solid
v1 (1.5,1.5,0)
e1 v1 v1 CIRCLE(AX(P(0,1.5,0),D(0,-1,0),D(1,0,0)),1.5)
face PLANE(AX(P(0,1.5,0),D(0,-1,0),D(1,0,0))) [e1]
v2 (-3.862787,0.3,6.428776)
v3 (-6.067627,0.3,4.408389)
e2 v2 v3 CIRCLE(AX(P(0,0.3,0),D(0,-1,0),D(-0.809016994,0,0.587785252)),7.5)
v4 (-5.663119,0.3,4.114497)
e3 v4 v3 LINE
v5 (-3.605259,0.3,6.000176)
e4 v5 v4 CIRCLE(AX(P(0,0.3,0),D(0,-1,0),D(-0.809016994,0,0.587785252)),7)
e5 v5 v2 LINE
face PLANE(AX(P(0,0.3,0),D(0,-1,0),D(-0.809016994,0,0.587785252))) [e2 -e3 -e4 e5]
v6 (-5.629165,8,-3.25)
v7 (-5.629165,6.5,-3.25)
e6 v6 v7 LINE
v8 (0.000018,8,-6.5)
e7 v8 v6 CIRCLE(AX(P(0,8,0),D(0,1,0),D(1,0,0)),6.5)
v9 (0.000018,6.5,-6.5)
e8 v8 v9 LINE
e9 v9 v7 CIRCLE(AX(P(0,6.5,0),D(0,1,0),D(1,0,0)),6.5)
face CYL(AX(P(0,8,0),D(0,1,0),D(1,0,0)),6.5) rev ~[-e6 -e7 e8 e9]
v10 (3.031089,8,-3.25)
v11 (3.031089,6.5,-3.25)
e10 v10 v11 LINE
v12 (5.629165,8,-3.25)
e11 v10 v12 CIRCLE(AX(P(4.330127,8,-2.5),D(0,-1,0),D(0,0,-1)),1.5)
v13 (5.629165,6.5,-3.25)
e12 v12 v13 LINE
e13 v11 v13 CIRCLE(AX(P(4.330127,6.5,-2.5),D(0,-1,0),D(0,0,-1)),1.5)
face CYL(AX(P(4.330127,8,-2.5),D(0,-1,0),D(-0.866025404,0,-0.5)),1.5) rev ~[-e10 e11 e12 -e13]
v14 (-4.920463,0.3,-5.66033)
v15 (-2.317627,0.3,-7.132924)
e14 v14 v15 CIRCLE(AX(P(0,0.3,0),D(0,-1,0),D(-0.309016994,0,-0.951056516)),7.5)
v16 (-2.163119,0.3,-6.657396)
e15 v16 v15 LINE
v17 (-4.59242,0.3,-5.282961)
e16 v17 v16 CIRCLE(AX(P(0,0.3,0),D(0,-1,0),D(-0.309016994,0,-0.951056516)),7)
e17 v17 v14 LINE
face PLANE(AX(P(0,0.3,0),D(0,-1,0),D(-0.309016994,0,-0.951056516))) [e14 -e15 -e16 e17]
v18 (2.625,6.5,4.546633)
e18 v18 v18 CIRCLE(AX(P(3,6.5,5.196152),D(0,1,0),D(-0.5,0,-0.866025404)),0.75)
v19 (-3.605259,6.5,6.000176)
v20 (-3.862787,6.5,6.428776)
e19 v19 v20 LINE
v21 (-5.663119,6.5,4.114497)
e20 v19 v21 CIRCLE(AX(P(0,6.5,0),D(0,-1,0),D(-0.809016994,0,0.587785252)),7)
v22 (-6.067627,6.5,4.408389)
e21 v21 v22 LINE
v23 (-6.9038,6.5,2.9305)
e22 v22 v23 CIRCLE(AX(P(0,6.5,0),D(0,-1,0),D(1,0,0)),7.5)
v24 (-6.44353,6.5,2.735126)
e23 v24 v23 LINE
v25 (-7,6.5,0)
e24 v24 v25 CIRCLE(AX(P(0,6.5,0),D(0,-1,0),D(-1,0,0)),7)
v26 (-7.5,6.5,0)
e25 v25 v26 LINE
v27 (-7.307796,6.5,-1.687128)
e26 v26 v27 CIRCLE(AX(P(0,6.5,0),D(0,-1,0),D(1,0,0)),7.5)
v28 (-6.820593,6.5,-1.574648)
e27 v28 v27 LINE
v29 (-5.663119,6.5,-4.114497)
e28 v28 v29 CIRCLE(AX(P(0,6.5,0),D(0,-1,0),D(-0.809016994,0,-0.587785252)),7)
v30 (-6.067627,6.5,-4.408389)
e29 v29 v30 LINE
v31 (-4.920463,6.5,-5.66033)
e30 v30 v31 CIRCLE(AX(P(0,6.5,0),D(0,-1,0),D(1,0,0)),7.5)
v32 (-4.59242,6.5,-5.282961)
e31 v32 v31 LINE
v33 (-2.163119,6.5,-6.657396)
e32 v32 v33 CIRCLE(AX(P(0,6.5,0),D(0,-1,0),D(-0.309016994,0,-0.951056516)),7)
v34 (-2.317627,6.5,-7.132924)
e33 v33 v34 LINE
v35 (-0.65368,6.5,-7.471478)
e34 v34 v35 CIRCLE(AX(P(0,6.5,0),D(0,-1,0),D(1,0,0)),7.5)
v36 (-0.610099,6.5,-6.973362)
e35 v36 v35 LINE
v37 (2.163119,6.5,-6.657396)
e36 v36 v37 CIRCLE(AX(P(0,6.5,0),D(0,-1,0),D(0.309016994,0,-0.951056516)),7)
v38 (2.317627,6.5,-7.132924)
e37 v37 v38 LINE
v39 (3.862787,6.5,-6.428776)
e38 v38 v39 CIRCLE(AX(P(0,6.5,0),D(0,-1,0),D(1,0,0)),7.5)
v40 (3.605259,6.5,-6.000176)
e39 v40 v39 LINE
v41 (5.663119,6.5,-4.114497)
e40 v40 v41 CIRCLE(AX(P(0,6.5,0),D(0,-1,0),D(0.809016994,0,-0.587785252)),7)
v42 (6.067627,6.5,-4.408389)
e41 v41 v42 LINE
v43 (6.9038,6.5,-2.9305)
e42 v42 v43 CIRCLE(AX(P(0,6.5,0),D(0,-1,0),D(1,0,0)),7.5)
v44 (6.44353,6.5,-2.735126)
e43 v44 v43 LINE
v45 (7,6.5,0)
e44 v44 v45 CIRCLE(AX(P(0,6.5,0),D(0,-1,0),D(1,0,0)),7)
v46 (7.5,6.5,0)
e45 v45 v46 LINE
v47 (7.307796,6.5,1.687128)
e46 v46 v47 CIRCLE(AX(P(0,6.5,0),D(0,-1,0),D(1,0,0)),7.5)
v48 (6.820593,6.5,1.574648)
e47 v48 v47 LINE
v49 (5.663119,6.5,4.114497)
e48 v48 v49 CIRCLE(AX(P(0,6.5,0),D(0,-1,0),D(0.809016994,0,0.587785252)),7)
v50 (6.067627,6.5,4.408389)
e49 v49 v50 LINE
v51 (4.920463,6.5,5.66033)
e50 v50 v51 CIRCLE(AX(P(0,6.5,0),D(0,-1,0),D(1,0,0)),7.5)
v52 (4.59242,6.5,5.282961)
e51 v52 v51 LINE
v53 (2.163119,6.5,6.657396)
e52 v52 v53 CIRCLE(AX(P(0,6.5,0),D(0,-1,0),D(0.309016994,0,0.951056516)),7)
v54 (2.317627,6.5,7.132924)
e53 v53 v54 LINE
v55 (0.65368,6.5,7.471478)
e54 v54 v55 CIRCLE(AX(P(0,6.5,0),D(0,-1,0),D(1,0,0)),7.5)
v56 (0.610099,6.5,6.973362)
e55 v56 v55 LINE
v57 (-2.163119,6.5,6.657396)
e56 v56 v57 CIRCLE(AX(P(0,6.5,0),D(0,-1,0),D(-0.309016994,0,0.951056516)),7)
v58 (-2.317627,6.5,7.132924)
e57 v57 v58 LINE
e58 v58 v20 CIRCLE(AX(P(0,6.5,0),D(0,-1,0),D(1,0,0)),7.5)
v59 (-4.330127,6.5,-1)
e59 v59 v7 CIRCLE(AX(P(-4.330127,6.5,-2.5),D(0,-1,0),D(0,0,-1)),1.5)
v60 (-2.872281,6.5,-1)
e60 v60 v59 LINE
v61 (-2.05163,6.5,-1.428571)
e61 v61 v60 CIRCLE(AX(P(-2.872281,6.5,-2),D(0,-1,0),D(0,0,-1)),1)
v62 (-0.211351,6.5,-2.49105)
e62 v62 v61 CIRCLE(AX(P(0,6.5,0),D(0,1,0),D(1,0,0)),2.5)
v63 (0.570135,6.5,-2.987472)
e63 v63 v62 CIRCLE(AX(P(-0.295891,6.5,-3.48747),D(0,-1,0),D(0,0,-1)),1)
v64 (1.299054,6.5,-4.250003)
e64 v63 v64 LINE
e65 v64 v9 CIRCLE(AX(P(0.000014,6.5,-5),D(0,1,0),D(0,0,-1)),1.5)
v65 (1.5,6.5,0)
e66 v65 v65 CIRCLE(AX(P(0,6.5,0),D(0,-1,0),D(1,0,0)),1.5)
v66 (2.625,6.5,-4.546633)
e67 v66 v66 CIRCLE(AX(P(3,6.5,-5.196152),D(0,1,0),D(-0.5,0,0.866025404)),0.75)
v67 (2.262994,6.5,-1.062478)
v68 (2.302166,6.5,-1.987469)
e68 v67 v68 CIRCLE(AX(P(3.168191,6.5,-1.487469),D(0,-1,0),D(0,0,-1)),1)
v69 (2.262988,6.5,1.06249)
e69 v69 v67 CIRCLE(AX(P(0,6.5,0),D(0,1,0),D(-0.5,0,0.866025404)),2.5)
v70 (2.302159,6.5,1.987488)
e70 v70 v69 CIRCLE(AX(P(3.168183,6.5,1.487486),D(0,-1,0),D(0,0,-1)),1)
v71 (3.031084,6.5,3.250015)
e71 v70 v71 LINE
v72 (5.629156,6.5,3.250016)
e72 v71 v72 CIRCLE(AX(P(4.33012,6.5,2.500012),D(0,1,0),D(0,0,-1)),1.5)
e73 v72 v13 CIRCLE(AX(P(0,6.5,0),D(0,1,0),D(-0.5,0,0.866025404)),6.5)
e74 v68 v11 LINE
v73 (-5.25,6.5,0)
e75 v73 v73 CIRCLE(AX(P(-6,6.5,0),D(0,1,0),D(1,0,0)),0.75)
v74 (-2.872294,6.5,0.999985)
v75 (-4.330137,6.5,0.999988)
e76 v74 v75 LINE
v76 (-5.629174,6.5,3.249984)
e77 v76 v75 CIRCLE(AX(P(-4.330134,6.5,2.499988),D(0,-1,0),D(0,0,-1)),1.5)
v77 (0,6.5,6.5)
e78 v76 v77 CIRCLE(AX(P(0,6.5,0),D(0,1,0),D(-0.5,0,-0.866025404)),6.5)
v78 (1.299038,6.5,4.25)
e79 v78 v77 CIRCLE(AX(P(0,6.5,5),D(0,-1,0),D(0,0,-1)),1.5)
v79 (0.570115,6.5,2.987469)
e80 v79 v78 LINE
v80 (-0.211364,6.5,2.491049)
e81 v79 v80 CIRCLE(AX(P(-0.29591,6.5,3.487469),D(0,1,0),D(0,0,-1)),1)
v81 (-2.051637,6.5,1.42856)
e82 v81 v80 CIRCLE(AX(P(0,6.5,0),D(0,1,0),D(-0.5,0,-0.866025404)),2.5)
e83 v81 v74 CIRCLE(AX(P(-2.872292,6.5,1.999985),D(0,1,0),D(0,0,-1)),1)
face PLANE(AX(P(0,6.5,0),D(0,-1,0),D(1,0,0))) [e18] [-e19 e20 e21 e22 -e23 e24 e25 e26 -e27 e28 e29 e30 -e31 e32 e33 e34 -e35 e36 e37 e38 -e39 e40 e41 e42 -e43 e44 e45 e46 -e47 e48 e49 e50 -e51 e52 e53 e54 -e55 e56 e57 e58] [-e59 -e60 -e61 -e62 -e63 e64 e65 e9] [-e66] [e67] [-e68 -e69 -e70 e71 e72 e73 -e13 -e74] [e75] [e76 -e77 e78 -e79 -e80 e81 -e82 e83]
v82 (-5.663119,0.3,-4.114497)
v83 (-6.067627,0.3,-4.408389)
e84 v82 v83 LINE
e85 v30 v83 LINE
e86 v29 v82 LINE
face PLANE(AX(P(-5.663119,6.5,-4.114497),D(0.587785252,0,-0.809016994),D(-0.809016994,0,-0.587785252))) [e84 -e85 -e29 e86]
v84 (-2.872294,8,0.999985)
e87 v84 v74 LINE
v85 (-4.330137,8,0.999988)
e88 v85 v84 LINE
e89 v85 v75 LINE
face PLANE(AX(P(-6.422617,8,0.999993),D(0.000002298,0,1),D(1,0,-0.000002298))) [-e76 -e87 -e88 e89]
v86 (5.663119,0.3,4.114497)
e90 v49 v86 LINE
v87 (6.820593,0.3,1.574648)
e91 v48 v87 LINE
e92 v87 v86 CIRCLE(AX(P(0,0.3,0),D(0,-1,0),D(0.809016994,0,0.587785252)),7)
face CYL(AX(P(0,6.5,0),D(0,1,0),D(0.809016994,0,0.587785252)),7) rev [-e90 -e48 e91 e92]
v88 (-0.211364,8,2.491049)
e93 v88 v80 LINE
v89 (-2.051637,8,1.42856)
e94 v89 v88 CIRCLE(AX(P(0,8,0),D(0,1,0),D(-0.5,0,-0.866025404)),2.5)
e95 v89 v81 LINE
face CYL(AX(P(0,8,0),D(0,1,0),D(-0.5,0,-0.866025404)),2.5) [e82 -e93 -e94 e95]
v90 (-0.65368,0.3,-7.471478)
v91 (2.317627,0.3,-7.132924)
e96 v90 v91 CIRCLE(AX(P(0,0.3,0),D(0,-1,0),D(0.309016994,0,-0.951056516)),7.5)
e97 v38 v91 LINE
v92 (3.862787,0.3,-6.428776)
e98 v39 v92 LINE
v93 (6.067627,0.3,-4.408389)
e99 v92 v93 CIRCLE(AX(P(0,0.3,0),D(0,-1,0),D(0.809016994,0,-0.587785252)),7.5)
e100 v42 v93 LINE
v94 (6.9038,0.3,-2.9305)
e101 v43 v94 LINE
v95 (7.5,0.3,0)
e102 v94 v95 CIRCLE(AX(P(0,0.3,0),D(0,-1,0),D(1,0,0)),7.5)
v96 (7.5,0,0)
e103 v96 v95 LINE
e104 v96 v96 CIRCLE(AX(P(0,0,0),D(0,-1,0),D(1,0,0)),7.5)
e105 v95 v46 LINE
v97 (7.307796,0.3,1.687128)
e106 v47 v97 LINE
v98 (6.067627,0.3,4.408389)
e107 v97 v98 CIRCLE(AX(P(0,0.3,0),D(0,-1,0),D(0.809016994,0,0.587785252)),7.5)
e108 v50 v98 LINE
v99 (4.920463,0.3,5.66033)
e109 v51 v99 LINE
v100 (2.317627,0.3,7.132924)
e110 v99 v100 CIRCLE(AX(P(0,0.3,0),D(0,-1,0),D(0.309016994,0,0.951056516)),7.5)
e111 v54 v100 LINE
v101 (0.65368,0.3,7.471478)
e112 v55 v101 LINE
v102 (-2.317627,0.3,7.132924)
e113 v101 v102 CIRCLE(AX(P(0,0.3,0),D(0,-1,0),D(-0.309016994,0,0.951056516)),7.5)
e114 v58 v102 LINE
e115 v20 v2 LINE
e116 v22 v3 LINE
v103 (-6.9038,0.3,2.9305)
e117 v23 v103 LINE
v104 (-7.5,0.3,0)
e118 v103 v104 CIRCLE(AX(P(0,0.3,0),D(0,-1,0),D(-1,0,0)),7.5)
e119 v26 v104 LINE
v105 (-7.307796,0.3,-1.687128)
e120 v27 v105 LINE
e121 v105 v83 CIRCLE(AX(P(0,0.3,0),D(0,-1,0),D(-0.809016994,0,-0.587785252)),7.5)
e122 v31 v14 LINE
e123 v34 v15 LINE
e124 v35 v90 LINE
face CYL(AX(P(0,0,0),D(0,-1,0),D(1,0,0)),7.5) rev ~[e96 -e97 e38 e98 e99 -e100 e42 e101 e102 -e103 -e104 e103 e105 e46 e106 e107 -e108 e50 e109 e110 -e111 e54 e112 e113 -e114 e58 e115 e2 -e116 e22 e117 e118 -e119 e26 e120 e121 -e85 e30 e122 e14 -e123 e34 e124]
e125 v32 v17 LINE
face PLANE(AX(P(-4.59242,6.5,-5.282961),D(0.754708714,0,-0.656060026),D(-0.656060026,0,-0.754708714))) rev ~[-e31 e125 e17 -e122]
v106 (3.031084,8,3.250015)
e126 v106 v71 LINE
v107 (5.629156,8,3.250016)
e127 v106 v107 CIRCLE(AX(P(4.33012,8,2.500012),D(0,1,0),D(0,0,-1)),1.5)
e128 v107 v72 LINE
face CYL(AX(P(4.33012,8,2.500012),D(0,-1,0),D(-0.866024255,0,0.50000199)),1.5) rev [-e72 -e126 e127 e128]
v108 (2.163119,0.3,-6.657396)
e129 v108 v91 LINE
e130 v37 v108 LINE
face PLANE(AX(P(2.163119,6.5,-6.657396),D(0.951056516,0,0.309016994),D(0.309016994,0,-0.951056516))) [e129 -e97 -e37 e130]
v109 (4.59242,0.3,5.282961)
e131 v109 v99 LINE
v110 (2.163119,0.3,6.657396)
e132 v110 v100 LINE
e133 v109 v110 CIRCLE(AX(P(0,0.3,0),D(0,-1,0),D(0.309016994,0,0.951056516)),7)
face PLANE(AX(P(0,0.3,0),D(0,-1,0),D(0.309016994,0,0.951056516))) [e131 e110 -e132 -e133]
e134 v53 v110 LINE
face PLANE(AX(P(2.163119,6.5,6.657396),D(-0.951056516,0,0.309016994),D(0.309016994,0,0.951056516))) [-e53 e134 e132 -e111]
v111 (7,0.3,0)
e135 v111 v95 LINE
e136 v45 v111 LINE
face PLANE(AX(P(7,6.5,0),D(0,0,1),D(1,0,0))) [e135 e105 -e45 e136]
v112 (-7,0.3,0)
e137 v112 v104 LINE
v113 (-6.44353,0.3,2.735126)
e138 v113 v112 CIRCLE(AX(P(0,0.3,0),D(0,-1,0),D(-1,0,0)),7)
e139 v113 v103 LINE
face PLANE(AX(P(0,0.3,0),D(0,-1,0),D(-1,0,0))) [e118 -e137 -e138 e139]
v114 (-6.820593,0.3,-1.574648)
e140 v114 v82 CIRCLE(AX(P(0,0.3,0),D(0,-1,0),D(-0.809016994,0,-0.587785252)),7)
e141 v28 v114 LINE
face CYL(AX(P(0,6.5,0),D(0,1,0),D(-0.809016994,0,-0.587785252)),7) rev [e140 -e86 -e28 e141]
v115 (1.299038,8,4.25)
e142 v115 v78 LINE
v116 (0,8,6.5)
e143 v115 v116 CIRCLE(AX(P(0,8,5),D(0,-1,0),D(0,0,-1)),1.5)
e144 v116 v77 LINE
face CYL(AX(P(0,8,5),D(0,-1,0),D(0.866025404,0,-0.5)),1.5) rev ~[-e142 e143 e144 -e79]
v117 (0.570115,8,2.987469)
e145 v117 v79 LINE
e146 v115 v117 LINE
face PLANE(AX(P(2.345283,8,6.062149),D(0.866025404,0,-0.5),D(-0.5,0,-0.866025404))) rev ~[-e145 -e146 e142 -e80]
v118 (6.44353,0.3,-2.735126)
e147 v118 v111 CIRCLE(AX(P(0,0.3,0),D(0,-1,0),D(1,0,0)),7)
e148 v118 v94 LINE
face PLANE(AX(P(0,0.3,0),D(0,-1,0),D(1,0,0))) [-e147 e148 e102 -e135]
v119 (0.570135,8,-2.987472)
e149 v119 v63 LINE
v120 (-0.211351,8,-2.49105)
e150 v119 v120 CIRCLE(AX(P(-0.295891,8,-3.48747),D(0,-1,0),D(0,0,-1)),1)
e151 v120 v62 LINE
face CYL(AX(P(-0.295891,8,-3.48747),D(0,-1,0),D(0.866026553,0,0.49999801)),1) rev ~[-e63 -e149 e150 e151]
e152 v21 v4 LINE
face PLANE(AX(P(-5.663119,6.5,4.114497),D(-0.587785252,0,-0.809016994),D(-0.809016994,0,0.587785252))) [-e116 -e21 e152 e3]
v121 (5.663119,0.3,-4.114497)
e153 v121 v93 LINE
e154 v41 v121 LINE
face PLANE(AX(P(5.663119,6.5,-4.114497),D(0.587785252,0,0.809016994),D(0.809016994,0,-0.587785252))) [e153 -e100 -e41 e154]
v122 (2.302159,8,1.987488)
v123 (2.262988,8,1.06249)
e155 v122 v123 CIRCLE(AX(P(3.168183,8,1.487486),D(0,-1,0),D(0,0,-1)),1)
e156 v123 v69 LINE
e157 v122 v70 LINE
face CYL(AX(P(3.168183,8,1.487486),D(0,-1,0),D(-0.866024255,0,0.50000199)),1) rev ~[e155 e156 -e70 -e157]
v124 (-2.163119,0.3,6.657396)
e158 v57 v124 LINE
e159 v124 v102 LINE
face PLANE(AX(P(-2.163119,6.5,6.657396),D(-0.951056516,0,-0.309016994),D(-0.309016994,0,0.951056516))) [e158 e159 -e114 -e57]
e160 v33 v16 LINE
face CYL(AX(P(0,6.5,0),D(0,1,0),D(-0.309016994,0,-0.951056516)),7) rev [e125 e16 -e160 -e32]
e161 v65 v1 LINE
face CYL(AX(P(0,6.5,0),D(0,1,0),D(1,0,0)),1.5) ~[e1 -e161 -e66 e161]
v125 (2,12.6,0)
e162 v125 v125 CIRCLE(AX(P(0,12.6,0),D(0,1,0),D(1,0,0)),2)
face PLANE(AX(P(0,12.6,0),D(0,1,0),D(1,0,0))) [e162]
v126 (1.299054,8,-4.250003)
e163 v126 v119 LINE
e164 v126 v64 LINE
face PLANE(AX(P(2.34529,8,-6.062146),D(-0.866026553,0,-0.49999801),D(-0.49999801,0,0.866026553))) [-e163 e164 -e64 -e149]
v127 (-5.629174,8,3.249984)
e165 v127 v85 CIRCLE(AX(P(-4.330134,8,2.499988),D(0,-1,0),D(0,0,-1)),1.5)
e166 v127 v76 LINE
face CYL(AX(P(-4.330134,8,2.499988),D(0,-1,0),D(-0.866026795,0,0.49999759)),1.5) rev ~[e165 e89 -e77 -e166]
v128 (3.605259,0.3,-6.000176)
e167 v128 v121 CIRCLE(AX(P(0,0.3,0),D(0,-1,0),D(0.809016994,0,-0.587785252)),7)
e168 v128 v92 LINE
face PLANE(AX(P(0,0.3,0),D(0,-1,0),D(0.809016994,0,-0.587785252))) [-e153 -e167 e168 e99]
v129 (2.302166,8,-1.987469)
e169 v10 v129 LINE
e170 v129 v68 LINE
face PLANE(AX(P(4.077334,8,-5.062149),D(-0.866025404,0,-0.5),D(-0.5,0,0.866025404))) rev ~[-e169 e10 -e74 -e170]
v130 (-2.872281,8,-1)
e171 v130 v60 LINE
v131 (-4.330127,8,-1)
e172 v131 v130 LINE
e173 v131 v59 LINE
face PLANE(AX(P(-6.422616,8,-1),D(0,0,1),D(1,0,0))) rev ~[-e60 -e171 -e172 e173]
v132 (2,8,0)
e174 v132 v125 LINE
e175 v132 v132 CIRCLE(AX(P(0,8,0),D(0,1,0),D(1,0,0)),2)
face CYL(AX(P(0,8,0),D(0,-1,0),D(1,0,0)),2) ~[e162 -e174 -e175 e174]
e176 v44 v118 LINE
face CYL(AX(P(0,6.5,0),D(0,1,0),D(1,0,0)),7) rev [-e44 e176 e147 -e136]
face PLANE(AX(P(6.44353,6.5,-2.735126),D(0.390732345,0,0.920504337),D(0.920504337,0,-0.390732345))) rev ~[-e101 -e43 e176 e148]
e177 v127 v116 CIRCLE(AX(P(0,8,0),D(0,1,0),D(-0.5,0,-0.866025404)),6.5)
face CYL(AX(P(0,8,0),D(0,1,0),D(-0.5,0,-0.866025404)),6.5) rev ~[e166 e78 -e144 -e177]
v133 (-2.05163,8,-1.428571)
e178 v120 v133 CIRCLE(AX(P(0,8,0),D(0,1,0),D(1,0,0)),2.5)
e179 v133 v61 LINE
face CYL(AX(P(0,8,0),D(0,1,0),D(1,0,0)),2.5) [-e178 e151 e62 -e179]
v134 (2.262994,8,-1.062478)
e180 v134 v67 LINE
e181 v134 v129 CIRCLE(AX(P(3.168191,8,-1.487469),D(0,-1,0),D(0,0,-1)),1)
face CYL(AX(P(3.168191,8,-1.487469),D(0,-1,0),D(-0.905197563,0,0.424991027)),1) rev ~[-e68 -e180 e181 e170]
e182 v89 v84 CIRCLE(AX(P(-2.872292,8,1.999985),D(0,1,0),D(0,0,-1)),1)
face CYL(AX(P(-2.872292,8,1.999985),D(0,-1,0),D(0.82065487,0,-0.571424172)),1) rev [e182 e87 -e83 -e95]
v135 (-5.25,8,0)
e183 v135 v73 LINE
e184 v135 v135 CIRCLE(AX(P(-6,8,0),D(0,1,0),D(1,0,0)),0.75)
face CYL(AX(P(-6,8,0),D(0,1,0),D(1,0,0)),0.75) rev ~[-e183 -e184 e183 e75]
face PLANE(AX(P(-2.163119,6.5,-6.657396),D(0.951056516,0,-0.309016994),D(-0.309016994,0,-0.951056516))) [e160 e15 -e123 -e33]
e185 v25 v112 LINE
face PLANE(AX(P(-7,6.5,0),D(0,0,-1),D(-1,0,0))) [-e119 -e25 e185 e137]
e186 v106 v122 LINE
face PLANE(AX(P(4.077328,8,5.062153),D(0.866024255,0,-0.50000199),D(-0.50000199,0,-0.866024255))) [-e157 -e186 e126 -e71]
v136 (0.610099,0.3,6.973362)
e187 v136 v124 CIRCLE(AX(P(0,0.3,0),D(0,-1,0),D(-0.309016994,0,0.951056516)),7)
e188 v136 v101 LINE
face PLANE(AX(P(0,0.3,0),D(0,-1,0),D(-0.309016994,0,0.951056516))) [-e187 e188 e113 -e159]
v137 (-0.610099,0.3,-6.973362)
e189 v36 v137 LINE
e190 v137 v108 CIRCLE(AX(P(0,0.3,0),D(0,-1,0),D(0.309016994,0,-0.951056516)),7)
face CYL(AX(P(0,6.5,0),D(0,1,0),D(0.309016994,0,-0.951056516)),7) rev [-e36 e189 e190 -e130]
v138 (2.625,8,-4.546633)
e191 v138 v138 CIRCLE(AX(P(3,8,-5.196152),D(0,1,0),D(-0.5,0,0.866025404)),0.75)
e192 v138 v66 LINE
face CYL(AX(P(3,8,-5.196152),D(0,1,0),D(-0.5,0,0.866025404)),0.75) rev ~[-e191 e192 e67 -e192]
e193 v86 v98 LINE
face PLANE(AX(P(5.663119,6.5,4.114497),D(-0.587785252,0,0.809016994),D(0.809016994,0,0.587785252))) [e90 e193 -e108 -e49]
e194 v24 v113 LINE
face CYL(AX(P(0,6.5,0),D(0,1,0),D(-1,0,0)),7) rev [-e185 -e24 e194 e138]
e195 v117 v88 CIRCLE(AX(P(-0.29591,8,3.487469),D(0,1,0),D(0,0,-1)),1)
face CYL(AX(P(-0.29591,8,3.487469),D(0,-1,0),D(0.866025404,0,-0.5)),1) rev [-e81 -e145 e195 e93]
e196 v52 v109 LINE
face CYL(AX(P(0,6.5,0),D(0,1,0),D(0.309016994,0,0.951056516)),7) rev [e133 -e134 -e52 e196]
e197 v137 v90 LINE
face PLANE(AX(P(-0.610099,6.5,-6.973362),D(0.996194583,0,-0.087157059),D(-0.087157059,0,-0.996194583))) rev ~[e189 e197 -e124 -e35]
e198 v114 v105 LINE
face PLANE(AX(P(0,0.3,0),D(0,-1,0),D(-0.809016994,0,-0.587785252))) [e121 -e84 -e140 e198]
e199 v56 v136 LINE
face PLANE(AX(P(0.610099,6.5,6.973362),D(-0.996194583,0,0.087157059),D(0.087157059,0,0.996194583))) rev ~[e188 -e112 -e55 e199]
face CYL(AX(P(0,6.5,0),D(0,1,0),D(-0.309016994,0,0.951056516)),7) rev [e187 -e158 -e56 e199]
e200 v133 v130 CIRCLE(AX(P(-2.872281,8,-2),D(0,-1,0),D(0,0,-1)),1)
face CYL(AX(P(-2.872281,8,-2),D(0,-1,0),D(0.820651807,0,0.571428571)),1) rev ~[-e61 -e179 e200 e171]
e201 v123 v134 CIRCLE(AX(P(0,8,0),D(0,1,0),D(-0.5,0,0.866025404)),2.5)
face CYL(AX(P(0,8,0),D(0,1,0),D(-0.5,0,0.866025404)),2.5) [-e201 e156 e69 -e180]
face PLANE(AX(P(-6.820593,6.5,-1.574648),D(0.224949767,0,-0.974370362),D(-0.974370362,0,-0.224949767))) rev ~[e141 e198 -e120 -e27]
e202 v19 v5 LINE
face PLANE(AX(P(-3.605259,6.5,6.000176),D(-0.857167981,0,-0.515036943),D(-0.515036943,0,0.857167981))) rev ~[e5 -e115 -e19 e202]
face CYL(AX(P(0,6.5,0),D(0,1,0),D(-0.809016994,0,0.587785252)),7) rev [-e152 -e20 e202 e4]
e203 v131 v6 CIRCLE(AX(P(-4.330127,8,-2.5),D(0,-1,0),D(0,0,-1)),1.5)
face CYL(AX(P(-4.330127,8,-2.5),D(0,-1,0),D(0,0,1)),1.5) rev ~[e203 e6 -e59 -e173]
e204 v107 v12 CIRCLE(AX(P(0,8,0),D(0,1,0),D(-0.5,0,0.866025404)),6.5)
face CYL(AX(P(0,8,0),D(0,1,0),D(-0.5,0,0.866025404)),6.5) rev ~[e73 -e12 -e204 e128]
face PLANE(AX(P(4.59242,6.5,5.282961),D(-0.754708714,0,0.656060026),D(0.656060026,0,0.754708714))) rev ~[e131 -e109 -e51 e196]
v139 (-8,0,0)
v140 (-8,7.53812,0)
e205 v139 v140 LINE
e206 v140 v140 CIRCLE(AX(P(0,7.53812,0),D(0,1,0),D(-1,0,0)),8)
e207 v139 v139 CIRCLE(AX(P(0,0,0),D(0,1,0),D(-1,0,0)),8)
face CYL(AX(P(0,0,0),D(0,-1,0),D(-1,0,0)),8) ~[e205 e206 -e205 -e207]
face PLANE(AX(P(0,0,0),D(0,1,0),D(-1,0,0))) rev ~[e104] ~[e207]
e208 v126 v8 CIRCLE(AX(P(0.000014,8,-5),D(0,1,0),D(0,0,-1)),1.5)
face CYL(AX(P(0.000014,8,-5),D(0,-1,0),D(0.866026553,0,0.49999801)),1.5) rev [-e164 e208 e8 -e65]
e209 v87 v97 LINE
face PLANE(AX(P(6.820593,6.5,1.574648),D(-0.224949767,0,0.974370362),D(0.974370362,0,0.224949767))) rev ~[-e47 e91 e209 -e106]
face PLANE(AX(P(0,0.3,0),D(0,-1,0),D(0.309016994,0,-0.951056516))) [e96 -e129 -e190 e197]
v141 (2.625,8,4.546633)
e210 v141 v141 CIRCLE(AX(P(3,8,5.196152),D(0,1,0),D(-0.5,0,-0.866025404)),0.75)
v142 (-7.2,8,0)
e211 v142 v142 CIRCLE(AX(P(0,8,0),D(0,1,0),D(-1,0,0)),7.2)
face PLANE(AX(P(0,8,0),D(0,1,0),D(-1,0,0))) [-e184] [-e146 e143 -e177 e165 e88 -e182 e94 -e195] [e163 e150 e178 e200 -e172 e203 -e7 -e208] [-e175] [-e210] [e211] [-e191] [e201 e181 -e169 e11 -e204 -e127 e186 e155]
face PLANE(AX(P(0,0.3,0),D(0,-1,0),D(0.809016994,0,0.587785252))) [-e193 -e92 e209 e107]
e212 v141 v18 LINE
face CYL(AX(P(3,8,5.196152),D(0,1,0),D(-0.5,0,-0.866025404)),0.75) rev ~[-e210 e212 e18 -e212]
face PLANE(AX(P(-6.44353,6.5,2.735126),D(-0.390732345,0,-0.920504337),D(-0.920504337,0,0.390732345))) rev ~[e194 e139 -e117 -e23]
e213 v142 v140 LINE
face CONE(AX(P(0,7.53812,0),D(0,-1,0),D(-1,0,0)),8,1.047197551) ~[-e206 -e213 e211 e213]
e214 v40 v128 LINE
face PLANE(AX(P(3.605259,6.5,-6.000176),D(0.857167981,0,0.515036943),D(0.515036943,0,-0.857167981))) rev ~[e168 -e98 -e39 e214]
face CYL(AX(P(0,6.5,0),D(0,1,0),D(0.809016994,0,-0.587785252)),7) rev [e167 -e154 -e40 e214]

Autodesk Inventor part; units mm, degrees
ref_plane "YZ Plane" through (0, 0, 0) normal (1, 0, 0) x (0, 1, 0)
ref_plane "XZ Plane" through (0, 0, 0) normal (0, 1, 0) x (-1, 0, 0)
ref_plane "XY Plane" through (0, 0, 0) normal (0, 0, 1) x (1, 0, 0)
sketch "Sketch1" plane through (0, 0, 0) normal (0, 1, 0) x (-1, 0, 0)
  circle A0 centre (0, 0) radius 8
  dimension "d0" = 16
extrude "Extrusion1" add sketch "Sketch1" along normal blind 8
sketch "Sketch2" plane through (0, 8, 0) normal (0, 1, 0) x (1, 0, 0)
  circle A0 centre (0, 0) radius 8 projected
  circle A1 centre (0, 0) radius 2
  dimension "d3" = 4
extrude "Extrusion2" add sketch "Sketch2" along normal blind 4.6 contours A1
sketch "Sketch3" plane through (0, 0, 0) normal (0, -1, 0) x (1, 0, 0)
  circle A0 centre (0, 0) radius 8 projected
  circle A1 centre (0, 0) radius 7.5
  dimension "d6" = 15
extrude "Extrusion3" cut sketch "Sketch3" against normal blind 6.5 contours A1
sketch "Sketch4" plane through (0, 6.5, 0) normal (0, -1, 0) x (1, 0, 0)
  circle A0 centre (0, 0) radius 7.5 projected
  circle A1 centre (0, 0) radius 7
  line L0 (0, 0) -> (7.5, 0)
  circle A2 centre (0, 0) radius 7.5 projected
  line L1 (0, 0) -> (6.9038, -2.9305)
  point P0 (6.4435, -2.7351)
  point P1 (6.9038, -2.9305)
  point P2 (7, 0)
  dimension "d9" = 14
  dimension "d10" = 23
extrude "Extrusion4" add sketch "Sketch4" along normal blind 6.2 contours A0 L1 A1 L0 picked at (6.8601, -2.5496)
pattern_circular "Circular Pattern1" count 10 over 360 about axis through (0, 0, 0) along (0, 1, 0) of "Extrusion4"
sketch "Sketch5" plane through (0, 8, 0) normal (0, 1, 0) x (1, 0, 0)
  circle A0 centre (0, 0) radius 2.5
  circle A1 centre (0, 0) radius 6.5
  line L0 (-10, -1) -> (-10, 1)
  line L1 (-10, 1) -> (10, 1)
  line L2 (10, 1) -> (10, -1)
  line L3 (10, -1) -> (-10, -1)
  line L4 (-10, -1) -> (10, 1) construction
  line L5 (-10, 1) -> (10, -1) construction
  line L6 (0, 0) -> (3.25, 5.6292)
  line L7 (0, 0) -> (-6.5, 0)
  line L8 (-5.866, -8.1603) -> (-4.134, -9.1603)
  line L9 (-4.134, -9.1603) -> (5.866, 8.1603)
  line L10 (5.866, 8.1603) -> (4.134, 9.1603)
  line L11 (4.134, 9.1603) -> (-5.866, -8.1603)
  line L12 (-5.866, -8.1603) -> (5.866, 8.1603) construction
  line L13 (-4.134, -9.1603) -> (4.134, 9.1603) construction
  point P0 (0.2796, 2.4843)
  point P1 (2.3453, 6.0621)
  point P2 (-6.4226, 1)
  point P3 (-2.2913, 1)
  dimension "d16" = 5
  dimension "d17" = 13
  dimension "d18" = 2
  dimension "d19" = 20
  dimension "d20" = 120
  dimension "d21" = 2
  dimension "d22" = 20
extrude "Extrusion5" cut sketch "Sketch5" against normal blind 6.2 contours A0 L1 A1 L11
pattern_circular "Circular Pattern2" count 3 over 360 about axis through (0, 8, 0) along (0, -1, 0) of "Extrusion5"
fillet "Fillet1" radius 1.5 2 edges at (-6.4226, 7.25, -1) (2.3453, 7.25, -6.0621)
pattern_circular "Circular Pattern3" count 3 over 360 about axis through (0, 8, 0) along (0, 1, 0) of "Fillet1"
fillet "Fillet2" radius 1 2 edges at (-2.2913, 7.25, -1) (0.2796, 7.25, -2.4843)
pattern_circular "Circular Pattern4" count 3 over 360 about axis through (0, 8, 0) along (0, 1, 0) of "Fillet2"
chamfer "Chamfer1" distance 0.8 angle 30 1 edges at (8, 8, 0) measured on face at (-6.1962, 8, 0)
sketch "Sketch6" plane through (0, 6.5, 0) normal (0, -1, 0) x (1, 0, 0)
  arc A0 (0, 6.5) -> (-5.6292, 3.25) centre (0, 0) ccw projected
  arc A1 (1.299, 4.25) -> (0, 6.5) centre (0, 5) ccw projected
  line L0 (1.299, 4.25) -> (0.5701, 2.9875) projected
  arc A2 (-0.2114, 2.491) -> (0.5701, 2.9875) centre (-0.2959, 3.4875) ccw projected
  arc A3 (-0.2114, 2.491) -> (-2.0516, 1.4286) centre (0, 0) ccw projected
  arc A4 (-2.8723, 1) -> (-2.0516, 1.4286) centre (-2.8723, 2) ccw projected
  line L1 (-2.8723, 1) -> (-4.3301, 1) projected
  arc A5 (-5.6292, 3.25) -> (-4.3301, 1) centre (-4.3301, 2.5) ccw projected
  arc A6 (5.6292, -3.25) -> (5.6292, 3.25) centre (0, 0) ccw projected
  arc A7 (3.0311, -3.25) -> (5.6292, -3.25) centre (4.3301, -2.5) ccw projected
  line L2 (3.0311, -3.25) -> (2.3022, -1.9875) projected
  arc A8 (2.263, -1.0625) -> (2.3022, -1.9875) centre (3.1682, -1.4875) ccw projected
  arc A9 (2.263, -1.0625) -> (2.263, 1.0625) centre (0, 0) ccw projected
  arc A10 (2.3022, 1.9875) -> (2.263, 1.0625) centre (3.1682, 1.4875) ccw projected
  line L3 (2.3022, 1.9875) -> (3.0311, 3.25) projected
  arc A11 (5.6292, 3.25) -> (3.0311, 3.25) centre (4.3301, 2.5) ccw projected
  arc A12 (-5.6292, -3.25) -> (0, -6.5) centre (0, 0) ccw projected
  arc A13 (-4.3301, -1) -> (-5.6292, -3.25) centre (-4.3301, -2.5) ccw projected
  line L4 (-4.3301, -1) -> (-2.8723, -1) projected
  arc A14 (-2.0516, -1.4286) -> (-2.8723, -1) centre (-2.8723, -2) ccw projected
  arc A15 (-2.0516, -1.4286) -> (-0.2114, -2.491) centre (0, 0) ccw projected
  arc A16 (0.5701, -2.9875) -> (-0.2114, -2.491) centre (-0.2959, -3.4875) ccw projected
  line L5 (0.5701, -2.9875) -> (1.299, -4.25) projected
  arc A17 (0, -6.5) -> (1.299, -4.25) centre (0, -5) ccw projected
  line L6 (7.3078, 1.6871) -> (6.8206, 1.5747) projected
  arc A18 (6.8206, 1.5747) -> (5.6631, 4.1145) centre (0, 0) ccw projected
  line L7 (5.6631, 4.1145) -> (6.0676, 4.4084) projected
  arc A19 (6.0676, 4.4084) -> (4.9204, 5.6603) centre (0, 0) ccw projected
  line L8 (4.9204, 5.6603) -> (4.5924, 5.283) projected
  arc A20 (4.5924, 5.283) -> (2.1631, 6.6574) centre (0, 0) ccw projected
  line L9 (2.1631, 6.6574) -> (2.3176, 7.1329) projected
  arc A21 (2.3176, 7.1329) -> (0.6537, 7.4715) centre (0, 0) ccw projected
  line L10 (0.6537, 7.4715) -> (0.6101, 6.9734) projected
  arc A22 (0.6101, 6.9734) -> (-2.1631, 6.6574) centre (0, 0) ccw projected
  line L11 (-2.1631, 6.6574) -> (-2.3176, 7.1329) projected
  arc A23 (-2.3176, 7.1329) -> (-3.8628, 6.4288) centre (0, 0) ccw projected
  line L12 (-3.8628, 6.4288) -> (-3.6053, 6.0002) projected
  arc A24 (-3.6053, 6.0002) -> (-5.6631, 4.1145) centre (0, 0) ccw projected
  line L13 (-5.6631, 4.1145) -> (-6.0676, 4.4084) projected
  arc A25 (-6.0676, 4.4084) -> (-6.9038, 2.9305) centre (0, 0) ccw projected
  line L14 (-6.9038, 2.9305) -> (-6.4435, 2.7351) projected
  arc A26 (-6.4435, 2.7351) -> (-7, 0) centre (0, 0) ccw projected
  line L15 (-7, 0) -> (-7.5, 0) projected
  arc A27 (-7.5, 0) -> (-7.3078, -1.6871) centre (0, 0) ccw projected
  line L16 (-7.3078, -1.6871) -> (-6.8206, -1.5747) projected
  arc A28 (-6.8206, -1.5747) -> (-5.6631, -4.1145) centre (0, 0) ccw projected
  line L17 (-5.6631, -4.1145) -> (-6.0676, -4.4084) projected
  arc A29 (-6.0676, -4.4084) -> (-4.9204, -5.6603) centre (0, 0) ccw projected
  line L18 (-4.9204, -5.6603) -> (-4.5924, -5.283) projected
  arc A30 (-4.5924, -5.283) -> (-2.1631, -6.6574) centre (0, 0) ccw projected
  line L19 (-2.1631, -6.6574) -> (-2.3176, -7.1329) projected
  arc A31 (-2.3176, -7.1329) -> (-0.6537, -7.4715) centre (0, 0) ccw projected
  line L20 (-0.6537, -7.4715) -> (-0.6101, -6.9734) projected
  arc A32 (-0.6101, -6.9734) -> (2.1631, -6.6574) centre (0, 0) ccw projected
  line L21 (2.1631, -6.6574) -> (2.3176, -7.1329) projected
  arc A33 (2.3176, -7.1329) -> (3.8628, -6.4288) centre (0, 0) ccw projected
  line L22 (3.8628, -6.4288) -> (3.6053, -6.0002) projected
  arc A34 (3.6053, -6.0002) -> (5.6631, -4.1145) centre (0, 0) ccw projected
  line L23 (5.6631, -4.1145) -> (6.0676, -4.4084) projected
  arc A35 (6.0676, -4.4084) -> (6.9038, -2.9305) centre (0, 0) ccw projected
  line L24 (6.9038, -2.9305) -> (6.4435, -2.7351) projected
  arc A36 (6.4435, -2.7351) -> (7, 0) centre (0, 0) ccw projected
  line L25 (7, 0) -> (7.5, 0) projected
  arc A37 (7.5, 0) -> (7.3078, 1.6871) centre (0, 0) ccw projected
  circle A38 centre (0, 0) radius 1.5
  dimension "d39" = 3
extrude "Extrusion6" add sketch "Sketch6" along normal blind 5 contours A38
sketch "Sketch7" plane through (0, 8, 0) normal (0, 1, 0) x (1, 0, 0)
  circle A0 centre (0, 0) radius 2 projected
  arc A1 (0, 6.5) -> (-5.6292, 3.25) centre (0, 0) ccw projected
  arc A2 (1.299, 4.25) -> (0, 6.5) centre (0, 5) ccw projected
  line L0 (1.299, 4.25) -> (0.5701, 2.9875) projected
  arc A3 (-0.2114, 2.491) -> (0.5701, 2.9875) centre (-0.2959, 3.4875) ccw projected
  arc A4 (-0.2114, 2.491) -> (-2.0516, 1.4286) centre (0, 0) ccw projected
  arc A5 (-2.8723, 1) -> (-2.0516, 1.4286) centre (-2.8723, 2) ccw projected
  line L1 (-2.8723, 1) -> (-4.3301, 1) projected
  arc A6 (-5.6292, 3.25) -> (-4.3301, 1) centre (-4.3301, 2.5) ccw projected
  arc A7 (5.6292, -3.25) -> (5.6292, 3.25) centre (0, 0) ccw projected
  arc A8 (3.0311, -3.25) -> (5.6292, -3.25) centre (4.3301, -2.5) ccw projected
  line L2 (3.0311, -3.25) -> (2.3022, -1.9875) projected
  arc A9 (2.263, -1.0625) -> (2.3022, -1.9875) centre (3.1682, -1.4875) ccw projected
  arc A10 (2.263, -1.0625) -> (2.263, 1.0625) centre (0, 0) ccw projected
  arc A11 (2.3022, 1.9875) -> (2.263, 1.0625) centre (3.1682, 1.4875) ccw projected
  line L3 (2.3022, 1.9875) -> (3.0311, 3.25) projected
  arc A12 (5.6292, 3.25) -> (3.0311, 3.25) centre (4.3301, 2.5) ccw projected
  arc A13 (-5.6292, -3.25) -> (0, -6.5) centre (0, 0) ccw projected
  arc A14 (-4.3301, -1) -> (-5.6292, -3.25) centre (-4.3301, -2.5) ccw projected
  line L4 (-4.3301, -1) -> (-2.8723, -1) projected
  arc A15 (-2.0516, -1.4286) -> (-2.8723, -1) centre (-2.8723, -2) ccw projected
  arc A16 (-2.0516, -1.4286) -> (-0.2114, -2.491) centre (0, 0) ccw projected
  arc A17 (0.5701, -2.9875) -> (-0.2114, -2.491) centre (-0.2959, -3.4875) ccw projected
  line L5 (0.5701, -2.9875) -> (1.299, -4.25) projected
  arc A18 (0, -6.5) -> (1.299, -4.25) centre (0, -5) ccw projected
  circle A19 centre (0, 0) radius 7.2 projected
  line L6 (0, 0) -> (-6, 0)
  circle A20 centre (-6, 0) radius 0.75
  dimension "d42" = 6
  dimension "d43" = 1.5
extrude "Extrusion7" cut sketch "Sketch7" against normal blind 5 contours A20
pattern_circular "Circular Pattern5" count 3 over 360 about axis through (0, 8, 0) along (0, 1, 0) of "Extrusion7"
properties part number "motor_1608_outer"
